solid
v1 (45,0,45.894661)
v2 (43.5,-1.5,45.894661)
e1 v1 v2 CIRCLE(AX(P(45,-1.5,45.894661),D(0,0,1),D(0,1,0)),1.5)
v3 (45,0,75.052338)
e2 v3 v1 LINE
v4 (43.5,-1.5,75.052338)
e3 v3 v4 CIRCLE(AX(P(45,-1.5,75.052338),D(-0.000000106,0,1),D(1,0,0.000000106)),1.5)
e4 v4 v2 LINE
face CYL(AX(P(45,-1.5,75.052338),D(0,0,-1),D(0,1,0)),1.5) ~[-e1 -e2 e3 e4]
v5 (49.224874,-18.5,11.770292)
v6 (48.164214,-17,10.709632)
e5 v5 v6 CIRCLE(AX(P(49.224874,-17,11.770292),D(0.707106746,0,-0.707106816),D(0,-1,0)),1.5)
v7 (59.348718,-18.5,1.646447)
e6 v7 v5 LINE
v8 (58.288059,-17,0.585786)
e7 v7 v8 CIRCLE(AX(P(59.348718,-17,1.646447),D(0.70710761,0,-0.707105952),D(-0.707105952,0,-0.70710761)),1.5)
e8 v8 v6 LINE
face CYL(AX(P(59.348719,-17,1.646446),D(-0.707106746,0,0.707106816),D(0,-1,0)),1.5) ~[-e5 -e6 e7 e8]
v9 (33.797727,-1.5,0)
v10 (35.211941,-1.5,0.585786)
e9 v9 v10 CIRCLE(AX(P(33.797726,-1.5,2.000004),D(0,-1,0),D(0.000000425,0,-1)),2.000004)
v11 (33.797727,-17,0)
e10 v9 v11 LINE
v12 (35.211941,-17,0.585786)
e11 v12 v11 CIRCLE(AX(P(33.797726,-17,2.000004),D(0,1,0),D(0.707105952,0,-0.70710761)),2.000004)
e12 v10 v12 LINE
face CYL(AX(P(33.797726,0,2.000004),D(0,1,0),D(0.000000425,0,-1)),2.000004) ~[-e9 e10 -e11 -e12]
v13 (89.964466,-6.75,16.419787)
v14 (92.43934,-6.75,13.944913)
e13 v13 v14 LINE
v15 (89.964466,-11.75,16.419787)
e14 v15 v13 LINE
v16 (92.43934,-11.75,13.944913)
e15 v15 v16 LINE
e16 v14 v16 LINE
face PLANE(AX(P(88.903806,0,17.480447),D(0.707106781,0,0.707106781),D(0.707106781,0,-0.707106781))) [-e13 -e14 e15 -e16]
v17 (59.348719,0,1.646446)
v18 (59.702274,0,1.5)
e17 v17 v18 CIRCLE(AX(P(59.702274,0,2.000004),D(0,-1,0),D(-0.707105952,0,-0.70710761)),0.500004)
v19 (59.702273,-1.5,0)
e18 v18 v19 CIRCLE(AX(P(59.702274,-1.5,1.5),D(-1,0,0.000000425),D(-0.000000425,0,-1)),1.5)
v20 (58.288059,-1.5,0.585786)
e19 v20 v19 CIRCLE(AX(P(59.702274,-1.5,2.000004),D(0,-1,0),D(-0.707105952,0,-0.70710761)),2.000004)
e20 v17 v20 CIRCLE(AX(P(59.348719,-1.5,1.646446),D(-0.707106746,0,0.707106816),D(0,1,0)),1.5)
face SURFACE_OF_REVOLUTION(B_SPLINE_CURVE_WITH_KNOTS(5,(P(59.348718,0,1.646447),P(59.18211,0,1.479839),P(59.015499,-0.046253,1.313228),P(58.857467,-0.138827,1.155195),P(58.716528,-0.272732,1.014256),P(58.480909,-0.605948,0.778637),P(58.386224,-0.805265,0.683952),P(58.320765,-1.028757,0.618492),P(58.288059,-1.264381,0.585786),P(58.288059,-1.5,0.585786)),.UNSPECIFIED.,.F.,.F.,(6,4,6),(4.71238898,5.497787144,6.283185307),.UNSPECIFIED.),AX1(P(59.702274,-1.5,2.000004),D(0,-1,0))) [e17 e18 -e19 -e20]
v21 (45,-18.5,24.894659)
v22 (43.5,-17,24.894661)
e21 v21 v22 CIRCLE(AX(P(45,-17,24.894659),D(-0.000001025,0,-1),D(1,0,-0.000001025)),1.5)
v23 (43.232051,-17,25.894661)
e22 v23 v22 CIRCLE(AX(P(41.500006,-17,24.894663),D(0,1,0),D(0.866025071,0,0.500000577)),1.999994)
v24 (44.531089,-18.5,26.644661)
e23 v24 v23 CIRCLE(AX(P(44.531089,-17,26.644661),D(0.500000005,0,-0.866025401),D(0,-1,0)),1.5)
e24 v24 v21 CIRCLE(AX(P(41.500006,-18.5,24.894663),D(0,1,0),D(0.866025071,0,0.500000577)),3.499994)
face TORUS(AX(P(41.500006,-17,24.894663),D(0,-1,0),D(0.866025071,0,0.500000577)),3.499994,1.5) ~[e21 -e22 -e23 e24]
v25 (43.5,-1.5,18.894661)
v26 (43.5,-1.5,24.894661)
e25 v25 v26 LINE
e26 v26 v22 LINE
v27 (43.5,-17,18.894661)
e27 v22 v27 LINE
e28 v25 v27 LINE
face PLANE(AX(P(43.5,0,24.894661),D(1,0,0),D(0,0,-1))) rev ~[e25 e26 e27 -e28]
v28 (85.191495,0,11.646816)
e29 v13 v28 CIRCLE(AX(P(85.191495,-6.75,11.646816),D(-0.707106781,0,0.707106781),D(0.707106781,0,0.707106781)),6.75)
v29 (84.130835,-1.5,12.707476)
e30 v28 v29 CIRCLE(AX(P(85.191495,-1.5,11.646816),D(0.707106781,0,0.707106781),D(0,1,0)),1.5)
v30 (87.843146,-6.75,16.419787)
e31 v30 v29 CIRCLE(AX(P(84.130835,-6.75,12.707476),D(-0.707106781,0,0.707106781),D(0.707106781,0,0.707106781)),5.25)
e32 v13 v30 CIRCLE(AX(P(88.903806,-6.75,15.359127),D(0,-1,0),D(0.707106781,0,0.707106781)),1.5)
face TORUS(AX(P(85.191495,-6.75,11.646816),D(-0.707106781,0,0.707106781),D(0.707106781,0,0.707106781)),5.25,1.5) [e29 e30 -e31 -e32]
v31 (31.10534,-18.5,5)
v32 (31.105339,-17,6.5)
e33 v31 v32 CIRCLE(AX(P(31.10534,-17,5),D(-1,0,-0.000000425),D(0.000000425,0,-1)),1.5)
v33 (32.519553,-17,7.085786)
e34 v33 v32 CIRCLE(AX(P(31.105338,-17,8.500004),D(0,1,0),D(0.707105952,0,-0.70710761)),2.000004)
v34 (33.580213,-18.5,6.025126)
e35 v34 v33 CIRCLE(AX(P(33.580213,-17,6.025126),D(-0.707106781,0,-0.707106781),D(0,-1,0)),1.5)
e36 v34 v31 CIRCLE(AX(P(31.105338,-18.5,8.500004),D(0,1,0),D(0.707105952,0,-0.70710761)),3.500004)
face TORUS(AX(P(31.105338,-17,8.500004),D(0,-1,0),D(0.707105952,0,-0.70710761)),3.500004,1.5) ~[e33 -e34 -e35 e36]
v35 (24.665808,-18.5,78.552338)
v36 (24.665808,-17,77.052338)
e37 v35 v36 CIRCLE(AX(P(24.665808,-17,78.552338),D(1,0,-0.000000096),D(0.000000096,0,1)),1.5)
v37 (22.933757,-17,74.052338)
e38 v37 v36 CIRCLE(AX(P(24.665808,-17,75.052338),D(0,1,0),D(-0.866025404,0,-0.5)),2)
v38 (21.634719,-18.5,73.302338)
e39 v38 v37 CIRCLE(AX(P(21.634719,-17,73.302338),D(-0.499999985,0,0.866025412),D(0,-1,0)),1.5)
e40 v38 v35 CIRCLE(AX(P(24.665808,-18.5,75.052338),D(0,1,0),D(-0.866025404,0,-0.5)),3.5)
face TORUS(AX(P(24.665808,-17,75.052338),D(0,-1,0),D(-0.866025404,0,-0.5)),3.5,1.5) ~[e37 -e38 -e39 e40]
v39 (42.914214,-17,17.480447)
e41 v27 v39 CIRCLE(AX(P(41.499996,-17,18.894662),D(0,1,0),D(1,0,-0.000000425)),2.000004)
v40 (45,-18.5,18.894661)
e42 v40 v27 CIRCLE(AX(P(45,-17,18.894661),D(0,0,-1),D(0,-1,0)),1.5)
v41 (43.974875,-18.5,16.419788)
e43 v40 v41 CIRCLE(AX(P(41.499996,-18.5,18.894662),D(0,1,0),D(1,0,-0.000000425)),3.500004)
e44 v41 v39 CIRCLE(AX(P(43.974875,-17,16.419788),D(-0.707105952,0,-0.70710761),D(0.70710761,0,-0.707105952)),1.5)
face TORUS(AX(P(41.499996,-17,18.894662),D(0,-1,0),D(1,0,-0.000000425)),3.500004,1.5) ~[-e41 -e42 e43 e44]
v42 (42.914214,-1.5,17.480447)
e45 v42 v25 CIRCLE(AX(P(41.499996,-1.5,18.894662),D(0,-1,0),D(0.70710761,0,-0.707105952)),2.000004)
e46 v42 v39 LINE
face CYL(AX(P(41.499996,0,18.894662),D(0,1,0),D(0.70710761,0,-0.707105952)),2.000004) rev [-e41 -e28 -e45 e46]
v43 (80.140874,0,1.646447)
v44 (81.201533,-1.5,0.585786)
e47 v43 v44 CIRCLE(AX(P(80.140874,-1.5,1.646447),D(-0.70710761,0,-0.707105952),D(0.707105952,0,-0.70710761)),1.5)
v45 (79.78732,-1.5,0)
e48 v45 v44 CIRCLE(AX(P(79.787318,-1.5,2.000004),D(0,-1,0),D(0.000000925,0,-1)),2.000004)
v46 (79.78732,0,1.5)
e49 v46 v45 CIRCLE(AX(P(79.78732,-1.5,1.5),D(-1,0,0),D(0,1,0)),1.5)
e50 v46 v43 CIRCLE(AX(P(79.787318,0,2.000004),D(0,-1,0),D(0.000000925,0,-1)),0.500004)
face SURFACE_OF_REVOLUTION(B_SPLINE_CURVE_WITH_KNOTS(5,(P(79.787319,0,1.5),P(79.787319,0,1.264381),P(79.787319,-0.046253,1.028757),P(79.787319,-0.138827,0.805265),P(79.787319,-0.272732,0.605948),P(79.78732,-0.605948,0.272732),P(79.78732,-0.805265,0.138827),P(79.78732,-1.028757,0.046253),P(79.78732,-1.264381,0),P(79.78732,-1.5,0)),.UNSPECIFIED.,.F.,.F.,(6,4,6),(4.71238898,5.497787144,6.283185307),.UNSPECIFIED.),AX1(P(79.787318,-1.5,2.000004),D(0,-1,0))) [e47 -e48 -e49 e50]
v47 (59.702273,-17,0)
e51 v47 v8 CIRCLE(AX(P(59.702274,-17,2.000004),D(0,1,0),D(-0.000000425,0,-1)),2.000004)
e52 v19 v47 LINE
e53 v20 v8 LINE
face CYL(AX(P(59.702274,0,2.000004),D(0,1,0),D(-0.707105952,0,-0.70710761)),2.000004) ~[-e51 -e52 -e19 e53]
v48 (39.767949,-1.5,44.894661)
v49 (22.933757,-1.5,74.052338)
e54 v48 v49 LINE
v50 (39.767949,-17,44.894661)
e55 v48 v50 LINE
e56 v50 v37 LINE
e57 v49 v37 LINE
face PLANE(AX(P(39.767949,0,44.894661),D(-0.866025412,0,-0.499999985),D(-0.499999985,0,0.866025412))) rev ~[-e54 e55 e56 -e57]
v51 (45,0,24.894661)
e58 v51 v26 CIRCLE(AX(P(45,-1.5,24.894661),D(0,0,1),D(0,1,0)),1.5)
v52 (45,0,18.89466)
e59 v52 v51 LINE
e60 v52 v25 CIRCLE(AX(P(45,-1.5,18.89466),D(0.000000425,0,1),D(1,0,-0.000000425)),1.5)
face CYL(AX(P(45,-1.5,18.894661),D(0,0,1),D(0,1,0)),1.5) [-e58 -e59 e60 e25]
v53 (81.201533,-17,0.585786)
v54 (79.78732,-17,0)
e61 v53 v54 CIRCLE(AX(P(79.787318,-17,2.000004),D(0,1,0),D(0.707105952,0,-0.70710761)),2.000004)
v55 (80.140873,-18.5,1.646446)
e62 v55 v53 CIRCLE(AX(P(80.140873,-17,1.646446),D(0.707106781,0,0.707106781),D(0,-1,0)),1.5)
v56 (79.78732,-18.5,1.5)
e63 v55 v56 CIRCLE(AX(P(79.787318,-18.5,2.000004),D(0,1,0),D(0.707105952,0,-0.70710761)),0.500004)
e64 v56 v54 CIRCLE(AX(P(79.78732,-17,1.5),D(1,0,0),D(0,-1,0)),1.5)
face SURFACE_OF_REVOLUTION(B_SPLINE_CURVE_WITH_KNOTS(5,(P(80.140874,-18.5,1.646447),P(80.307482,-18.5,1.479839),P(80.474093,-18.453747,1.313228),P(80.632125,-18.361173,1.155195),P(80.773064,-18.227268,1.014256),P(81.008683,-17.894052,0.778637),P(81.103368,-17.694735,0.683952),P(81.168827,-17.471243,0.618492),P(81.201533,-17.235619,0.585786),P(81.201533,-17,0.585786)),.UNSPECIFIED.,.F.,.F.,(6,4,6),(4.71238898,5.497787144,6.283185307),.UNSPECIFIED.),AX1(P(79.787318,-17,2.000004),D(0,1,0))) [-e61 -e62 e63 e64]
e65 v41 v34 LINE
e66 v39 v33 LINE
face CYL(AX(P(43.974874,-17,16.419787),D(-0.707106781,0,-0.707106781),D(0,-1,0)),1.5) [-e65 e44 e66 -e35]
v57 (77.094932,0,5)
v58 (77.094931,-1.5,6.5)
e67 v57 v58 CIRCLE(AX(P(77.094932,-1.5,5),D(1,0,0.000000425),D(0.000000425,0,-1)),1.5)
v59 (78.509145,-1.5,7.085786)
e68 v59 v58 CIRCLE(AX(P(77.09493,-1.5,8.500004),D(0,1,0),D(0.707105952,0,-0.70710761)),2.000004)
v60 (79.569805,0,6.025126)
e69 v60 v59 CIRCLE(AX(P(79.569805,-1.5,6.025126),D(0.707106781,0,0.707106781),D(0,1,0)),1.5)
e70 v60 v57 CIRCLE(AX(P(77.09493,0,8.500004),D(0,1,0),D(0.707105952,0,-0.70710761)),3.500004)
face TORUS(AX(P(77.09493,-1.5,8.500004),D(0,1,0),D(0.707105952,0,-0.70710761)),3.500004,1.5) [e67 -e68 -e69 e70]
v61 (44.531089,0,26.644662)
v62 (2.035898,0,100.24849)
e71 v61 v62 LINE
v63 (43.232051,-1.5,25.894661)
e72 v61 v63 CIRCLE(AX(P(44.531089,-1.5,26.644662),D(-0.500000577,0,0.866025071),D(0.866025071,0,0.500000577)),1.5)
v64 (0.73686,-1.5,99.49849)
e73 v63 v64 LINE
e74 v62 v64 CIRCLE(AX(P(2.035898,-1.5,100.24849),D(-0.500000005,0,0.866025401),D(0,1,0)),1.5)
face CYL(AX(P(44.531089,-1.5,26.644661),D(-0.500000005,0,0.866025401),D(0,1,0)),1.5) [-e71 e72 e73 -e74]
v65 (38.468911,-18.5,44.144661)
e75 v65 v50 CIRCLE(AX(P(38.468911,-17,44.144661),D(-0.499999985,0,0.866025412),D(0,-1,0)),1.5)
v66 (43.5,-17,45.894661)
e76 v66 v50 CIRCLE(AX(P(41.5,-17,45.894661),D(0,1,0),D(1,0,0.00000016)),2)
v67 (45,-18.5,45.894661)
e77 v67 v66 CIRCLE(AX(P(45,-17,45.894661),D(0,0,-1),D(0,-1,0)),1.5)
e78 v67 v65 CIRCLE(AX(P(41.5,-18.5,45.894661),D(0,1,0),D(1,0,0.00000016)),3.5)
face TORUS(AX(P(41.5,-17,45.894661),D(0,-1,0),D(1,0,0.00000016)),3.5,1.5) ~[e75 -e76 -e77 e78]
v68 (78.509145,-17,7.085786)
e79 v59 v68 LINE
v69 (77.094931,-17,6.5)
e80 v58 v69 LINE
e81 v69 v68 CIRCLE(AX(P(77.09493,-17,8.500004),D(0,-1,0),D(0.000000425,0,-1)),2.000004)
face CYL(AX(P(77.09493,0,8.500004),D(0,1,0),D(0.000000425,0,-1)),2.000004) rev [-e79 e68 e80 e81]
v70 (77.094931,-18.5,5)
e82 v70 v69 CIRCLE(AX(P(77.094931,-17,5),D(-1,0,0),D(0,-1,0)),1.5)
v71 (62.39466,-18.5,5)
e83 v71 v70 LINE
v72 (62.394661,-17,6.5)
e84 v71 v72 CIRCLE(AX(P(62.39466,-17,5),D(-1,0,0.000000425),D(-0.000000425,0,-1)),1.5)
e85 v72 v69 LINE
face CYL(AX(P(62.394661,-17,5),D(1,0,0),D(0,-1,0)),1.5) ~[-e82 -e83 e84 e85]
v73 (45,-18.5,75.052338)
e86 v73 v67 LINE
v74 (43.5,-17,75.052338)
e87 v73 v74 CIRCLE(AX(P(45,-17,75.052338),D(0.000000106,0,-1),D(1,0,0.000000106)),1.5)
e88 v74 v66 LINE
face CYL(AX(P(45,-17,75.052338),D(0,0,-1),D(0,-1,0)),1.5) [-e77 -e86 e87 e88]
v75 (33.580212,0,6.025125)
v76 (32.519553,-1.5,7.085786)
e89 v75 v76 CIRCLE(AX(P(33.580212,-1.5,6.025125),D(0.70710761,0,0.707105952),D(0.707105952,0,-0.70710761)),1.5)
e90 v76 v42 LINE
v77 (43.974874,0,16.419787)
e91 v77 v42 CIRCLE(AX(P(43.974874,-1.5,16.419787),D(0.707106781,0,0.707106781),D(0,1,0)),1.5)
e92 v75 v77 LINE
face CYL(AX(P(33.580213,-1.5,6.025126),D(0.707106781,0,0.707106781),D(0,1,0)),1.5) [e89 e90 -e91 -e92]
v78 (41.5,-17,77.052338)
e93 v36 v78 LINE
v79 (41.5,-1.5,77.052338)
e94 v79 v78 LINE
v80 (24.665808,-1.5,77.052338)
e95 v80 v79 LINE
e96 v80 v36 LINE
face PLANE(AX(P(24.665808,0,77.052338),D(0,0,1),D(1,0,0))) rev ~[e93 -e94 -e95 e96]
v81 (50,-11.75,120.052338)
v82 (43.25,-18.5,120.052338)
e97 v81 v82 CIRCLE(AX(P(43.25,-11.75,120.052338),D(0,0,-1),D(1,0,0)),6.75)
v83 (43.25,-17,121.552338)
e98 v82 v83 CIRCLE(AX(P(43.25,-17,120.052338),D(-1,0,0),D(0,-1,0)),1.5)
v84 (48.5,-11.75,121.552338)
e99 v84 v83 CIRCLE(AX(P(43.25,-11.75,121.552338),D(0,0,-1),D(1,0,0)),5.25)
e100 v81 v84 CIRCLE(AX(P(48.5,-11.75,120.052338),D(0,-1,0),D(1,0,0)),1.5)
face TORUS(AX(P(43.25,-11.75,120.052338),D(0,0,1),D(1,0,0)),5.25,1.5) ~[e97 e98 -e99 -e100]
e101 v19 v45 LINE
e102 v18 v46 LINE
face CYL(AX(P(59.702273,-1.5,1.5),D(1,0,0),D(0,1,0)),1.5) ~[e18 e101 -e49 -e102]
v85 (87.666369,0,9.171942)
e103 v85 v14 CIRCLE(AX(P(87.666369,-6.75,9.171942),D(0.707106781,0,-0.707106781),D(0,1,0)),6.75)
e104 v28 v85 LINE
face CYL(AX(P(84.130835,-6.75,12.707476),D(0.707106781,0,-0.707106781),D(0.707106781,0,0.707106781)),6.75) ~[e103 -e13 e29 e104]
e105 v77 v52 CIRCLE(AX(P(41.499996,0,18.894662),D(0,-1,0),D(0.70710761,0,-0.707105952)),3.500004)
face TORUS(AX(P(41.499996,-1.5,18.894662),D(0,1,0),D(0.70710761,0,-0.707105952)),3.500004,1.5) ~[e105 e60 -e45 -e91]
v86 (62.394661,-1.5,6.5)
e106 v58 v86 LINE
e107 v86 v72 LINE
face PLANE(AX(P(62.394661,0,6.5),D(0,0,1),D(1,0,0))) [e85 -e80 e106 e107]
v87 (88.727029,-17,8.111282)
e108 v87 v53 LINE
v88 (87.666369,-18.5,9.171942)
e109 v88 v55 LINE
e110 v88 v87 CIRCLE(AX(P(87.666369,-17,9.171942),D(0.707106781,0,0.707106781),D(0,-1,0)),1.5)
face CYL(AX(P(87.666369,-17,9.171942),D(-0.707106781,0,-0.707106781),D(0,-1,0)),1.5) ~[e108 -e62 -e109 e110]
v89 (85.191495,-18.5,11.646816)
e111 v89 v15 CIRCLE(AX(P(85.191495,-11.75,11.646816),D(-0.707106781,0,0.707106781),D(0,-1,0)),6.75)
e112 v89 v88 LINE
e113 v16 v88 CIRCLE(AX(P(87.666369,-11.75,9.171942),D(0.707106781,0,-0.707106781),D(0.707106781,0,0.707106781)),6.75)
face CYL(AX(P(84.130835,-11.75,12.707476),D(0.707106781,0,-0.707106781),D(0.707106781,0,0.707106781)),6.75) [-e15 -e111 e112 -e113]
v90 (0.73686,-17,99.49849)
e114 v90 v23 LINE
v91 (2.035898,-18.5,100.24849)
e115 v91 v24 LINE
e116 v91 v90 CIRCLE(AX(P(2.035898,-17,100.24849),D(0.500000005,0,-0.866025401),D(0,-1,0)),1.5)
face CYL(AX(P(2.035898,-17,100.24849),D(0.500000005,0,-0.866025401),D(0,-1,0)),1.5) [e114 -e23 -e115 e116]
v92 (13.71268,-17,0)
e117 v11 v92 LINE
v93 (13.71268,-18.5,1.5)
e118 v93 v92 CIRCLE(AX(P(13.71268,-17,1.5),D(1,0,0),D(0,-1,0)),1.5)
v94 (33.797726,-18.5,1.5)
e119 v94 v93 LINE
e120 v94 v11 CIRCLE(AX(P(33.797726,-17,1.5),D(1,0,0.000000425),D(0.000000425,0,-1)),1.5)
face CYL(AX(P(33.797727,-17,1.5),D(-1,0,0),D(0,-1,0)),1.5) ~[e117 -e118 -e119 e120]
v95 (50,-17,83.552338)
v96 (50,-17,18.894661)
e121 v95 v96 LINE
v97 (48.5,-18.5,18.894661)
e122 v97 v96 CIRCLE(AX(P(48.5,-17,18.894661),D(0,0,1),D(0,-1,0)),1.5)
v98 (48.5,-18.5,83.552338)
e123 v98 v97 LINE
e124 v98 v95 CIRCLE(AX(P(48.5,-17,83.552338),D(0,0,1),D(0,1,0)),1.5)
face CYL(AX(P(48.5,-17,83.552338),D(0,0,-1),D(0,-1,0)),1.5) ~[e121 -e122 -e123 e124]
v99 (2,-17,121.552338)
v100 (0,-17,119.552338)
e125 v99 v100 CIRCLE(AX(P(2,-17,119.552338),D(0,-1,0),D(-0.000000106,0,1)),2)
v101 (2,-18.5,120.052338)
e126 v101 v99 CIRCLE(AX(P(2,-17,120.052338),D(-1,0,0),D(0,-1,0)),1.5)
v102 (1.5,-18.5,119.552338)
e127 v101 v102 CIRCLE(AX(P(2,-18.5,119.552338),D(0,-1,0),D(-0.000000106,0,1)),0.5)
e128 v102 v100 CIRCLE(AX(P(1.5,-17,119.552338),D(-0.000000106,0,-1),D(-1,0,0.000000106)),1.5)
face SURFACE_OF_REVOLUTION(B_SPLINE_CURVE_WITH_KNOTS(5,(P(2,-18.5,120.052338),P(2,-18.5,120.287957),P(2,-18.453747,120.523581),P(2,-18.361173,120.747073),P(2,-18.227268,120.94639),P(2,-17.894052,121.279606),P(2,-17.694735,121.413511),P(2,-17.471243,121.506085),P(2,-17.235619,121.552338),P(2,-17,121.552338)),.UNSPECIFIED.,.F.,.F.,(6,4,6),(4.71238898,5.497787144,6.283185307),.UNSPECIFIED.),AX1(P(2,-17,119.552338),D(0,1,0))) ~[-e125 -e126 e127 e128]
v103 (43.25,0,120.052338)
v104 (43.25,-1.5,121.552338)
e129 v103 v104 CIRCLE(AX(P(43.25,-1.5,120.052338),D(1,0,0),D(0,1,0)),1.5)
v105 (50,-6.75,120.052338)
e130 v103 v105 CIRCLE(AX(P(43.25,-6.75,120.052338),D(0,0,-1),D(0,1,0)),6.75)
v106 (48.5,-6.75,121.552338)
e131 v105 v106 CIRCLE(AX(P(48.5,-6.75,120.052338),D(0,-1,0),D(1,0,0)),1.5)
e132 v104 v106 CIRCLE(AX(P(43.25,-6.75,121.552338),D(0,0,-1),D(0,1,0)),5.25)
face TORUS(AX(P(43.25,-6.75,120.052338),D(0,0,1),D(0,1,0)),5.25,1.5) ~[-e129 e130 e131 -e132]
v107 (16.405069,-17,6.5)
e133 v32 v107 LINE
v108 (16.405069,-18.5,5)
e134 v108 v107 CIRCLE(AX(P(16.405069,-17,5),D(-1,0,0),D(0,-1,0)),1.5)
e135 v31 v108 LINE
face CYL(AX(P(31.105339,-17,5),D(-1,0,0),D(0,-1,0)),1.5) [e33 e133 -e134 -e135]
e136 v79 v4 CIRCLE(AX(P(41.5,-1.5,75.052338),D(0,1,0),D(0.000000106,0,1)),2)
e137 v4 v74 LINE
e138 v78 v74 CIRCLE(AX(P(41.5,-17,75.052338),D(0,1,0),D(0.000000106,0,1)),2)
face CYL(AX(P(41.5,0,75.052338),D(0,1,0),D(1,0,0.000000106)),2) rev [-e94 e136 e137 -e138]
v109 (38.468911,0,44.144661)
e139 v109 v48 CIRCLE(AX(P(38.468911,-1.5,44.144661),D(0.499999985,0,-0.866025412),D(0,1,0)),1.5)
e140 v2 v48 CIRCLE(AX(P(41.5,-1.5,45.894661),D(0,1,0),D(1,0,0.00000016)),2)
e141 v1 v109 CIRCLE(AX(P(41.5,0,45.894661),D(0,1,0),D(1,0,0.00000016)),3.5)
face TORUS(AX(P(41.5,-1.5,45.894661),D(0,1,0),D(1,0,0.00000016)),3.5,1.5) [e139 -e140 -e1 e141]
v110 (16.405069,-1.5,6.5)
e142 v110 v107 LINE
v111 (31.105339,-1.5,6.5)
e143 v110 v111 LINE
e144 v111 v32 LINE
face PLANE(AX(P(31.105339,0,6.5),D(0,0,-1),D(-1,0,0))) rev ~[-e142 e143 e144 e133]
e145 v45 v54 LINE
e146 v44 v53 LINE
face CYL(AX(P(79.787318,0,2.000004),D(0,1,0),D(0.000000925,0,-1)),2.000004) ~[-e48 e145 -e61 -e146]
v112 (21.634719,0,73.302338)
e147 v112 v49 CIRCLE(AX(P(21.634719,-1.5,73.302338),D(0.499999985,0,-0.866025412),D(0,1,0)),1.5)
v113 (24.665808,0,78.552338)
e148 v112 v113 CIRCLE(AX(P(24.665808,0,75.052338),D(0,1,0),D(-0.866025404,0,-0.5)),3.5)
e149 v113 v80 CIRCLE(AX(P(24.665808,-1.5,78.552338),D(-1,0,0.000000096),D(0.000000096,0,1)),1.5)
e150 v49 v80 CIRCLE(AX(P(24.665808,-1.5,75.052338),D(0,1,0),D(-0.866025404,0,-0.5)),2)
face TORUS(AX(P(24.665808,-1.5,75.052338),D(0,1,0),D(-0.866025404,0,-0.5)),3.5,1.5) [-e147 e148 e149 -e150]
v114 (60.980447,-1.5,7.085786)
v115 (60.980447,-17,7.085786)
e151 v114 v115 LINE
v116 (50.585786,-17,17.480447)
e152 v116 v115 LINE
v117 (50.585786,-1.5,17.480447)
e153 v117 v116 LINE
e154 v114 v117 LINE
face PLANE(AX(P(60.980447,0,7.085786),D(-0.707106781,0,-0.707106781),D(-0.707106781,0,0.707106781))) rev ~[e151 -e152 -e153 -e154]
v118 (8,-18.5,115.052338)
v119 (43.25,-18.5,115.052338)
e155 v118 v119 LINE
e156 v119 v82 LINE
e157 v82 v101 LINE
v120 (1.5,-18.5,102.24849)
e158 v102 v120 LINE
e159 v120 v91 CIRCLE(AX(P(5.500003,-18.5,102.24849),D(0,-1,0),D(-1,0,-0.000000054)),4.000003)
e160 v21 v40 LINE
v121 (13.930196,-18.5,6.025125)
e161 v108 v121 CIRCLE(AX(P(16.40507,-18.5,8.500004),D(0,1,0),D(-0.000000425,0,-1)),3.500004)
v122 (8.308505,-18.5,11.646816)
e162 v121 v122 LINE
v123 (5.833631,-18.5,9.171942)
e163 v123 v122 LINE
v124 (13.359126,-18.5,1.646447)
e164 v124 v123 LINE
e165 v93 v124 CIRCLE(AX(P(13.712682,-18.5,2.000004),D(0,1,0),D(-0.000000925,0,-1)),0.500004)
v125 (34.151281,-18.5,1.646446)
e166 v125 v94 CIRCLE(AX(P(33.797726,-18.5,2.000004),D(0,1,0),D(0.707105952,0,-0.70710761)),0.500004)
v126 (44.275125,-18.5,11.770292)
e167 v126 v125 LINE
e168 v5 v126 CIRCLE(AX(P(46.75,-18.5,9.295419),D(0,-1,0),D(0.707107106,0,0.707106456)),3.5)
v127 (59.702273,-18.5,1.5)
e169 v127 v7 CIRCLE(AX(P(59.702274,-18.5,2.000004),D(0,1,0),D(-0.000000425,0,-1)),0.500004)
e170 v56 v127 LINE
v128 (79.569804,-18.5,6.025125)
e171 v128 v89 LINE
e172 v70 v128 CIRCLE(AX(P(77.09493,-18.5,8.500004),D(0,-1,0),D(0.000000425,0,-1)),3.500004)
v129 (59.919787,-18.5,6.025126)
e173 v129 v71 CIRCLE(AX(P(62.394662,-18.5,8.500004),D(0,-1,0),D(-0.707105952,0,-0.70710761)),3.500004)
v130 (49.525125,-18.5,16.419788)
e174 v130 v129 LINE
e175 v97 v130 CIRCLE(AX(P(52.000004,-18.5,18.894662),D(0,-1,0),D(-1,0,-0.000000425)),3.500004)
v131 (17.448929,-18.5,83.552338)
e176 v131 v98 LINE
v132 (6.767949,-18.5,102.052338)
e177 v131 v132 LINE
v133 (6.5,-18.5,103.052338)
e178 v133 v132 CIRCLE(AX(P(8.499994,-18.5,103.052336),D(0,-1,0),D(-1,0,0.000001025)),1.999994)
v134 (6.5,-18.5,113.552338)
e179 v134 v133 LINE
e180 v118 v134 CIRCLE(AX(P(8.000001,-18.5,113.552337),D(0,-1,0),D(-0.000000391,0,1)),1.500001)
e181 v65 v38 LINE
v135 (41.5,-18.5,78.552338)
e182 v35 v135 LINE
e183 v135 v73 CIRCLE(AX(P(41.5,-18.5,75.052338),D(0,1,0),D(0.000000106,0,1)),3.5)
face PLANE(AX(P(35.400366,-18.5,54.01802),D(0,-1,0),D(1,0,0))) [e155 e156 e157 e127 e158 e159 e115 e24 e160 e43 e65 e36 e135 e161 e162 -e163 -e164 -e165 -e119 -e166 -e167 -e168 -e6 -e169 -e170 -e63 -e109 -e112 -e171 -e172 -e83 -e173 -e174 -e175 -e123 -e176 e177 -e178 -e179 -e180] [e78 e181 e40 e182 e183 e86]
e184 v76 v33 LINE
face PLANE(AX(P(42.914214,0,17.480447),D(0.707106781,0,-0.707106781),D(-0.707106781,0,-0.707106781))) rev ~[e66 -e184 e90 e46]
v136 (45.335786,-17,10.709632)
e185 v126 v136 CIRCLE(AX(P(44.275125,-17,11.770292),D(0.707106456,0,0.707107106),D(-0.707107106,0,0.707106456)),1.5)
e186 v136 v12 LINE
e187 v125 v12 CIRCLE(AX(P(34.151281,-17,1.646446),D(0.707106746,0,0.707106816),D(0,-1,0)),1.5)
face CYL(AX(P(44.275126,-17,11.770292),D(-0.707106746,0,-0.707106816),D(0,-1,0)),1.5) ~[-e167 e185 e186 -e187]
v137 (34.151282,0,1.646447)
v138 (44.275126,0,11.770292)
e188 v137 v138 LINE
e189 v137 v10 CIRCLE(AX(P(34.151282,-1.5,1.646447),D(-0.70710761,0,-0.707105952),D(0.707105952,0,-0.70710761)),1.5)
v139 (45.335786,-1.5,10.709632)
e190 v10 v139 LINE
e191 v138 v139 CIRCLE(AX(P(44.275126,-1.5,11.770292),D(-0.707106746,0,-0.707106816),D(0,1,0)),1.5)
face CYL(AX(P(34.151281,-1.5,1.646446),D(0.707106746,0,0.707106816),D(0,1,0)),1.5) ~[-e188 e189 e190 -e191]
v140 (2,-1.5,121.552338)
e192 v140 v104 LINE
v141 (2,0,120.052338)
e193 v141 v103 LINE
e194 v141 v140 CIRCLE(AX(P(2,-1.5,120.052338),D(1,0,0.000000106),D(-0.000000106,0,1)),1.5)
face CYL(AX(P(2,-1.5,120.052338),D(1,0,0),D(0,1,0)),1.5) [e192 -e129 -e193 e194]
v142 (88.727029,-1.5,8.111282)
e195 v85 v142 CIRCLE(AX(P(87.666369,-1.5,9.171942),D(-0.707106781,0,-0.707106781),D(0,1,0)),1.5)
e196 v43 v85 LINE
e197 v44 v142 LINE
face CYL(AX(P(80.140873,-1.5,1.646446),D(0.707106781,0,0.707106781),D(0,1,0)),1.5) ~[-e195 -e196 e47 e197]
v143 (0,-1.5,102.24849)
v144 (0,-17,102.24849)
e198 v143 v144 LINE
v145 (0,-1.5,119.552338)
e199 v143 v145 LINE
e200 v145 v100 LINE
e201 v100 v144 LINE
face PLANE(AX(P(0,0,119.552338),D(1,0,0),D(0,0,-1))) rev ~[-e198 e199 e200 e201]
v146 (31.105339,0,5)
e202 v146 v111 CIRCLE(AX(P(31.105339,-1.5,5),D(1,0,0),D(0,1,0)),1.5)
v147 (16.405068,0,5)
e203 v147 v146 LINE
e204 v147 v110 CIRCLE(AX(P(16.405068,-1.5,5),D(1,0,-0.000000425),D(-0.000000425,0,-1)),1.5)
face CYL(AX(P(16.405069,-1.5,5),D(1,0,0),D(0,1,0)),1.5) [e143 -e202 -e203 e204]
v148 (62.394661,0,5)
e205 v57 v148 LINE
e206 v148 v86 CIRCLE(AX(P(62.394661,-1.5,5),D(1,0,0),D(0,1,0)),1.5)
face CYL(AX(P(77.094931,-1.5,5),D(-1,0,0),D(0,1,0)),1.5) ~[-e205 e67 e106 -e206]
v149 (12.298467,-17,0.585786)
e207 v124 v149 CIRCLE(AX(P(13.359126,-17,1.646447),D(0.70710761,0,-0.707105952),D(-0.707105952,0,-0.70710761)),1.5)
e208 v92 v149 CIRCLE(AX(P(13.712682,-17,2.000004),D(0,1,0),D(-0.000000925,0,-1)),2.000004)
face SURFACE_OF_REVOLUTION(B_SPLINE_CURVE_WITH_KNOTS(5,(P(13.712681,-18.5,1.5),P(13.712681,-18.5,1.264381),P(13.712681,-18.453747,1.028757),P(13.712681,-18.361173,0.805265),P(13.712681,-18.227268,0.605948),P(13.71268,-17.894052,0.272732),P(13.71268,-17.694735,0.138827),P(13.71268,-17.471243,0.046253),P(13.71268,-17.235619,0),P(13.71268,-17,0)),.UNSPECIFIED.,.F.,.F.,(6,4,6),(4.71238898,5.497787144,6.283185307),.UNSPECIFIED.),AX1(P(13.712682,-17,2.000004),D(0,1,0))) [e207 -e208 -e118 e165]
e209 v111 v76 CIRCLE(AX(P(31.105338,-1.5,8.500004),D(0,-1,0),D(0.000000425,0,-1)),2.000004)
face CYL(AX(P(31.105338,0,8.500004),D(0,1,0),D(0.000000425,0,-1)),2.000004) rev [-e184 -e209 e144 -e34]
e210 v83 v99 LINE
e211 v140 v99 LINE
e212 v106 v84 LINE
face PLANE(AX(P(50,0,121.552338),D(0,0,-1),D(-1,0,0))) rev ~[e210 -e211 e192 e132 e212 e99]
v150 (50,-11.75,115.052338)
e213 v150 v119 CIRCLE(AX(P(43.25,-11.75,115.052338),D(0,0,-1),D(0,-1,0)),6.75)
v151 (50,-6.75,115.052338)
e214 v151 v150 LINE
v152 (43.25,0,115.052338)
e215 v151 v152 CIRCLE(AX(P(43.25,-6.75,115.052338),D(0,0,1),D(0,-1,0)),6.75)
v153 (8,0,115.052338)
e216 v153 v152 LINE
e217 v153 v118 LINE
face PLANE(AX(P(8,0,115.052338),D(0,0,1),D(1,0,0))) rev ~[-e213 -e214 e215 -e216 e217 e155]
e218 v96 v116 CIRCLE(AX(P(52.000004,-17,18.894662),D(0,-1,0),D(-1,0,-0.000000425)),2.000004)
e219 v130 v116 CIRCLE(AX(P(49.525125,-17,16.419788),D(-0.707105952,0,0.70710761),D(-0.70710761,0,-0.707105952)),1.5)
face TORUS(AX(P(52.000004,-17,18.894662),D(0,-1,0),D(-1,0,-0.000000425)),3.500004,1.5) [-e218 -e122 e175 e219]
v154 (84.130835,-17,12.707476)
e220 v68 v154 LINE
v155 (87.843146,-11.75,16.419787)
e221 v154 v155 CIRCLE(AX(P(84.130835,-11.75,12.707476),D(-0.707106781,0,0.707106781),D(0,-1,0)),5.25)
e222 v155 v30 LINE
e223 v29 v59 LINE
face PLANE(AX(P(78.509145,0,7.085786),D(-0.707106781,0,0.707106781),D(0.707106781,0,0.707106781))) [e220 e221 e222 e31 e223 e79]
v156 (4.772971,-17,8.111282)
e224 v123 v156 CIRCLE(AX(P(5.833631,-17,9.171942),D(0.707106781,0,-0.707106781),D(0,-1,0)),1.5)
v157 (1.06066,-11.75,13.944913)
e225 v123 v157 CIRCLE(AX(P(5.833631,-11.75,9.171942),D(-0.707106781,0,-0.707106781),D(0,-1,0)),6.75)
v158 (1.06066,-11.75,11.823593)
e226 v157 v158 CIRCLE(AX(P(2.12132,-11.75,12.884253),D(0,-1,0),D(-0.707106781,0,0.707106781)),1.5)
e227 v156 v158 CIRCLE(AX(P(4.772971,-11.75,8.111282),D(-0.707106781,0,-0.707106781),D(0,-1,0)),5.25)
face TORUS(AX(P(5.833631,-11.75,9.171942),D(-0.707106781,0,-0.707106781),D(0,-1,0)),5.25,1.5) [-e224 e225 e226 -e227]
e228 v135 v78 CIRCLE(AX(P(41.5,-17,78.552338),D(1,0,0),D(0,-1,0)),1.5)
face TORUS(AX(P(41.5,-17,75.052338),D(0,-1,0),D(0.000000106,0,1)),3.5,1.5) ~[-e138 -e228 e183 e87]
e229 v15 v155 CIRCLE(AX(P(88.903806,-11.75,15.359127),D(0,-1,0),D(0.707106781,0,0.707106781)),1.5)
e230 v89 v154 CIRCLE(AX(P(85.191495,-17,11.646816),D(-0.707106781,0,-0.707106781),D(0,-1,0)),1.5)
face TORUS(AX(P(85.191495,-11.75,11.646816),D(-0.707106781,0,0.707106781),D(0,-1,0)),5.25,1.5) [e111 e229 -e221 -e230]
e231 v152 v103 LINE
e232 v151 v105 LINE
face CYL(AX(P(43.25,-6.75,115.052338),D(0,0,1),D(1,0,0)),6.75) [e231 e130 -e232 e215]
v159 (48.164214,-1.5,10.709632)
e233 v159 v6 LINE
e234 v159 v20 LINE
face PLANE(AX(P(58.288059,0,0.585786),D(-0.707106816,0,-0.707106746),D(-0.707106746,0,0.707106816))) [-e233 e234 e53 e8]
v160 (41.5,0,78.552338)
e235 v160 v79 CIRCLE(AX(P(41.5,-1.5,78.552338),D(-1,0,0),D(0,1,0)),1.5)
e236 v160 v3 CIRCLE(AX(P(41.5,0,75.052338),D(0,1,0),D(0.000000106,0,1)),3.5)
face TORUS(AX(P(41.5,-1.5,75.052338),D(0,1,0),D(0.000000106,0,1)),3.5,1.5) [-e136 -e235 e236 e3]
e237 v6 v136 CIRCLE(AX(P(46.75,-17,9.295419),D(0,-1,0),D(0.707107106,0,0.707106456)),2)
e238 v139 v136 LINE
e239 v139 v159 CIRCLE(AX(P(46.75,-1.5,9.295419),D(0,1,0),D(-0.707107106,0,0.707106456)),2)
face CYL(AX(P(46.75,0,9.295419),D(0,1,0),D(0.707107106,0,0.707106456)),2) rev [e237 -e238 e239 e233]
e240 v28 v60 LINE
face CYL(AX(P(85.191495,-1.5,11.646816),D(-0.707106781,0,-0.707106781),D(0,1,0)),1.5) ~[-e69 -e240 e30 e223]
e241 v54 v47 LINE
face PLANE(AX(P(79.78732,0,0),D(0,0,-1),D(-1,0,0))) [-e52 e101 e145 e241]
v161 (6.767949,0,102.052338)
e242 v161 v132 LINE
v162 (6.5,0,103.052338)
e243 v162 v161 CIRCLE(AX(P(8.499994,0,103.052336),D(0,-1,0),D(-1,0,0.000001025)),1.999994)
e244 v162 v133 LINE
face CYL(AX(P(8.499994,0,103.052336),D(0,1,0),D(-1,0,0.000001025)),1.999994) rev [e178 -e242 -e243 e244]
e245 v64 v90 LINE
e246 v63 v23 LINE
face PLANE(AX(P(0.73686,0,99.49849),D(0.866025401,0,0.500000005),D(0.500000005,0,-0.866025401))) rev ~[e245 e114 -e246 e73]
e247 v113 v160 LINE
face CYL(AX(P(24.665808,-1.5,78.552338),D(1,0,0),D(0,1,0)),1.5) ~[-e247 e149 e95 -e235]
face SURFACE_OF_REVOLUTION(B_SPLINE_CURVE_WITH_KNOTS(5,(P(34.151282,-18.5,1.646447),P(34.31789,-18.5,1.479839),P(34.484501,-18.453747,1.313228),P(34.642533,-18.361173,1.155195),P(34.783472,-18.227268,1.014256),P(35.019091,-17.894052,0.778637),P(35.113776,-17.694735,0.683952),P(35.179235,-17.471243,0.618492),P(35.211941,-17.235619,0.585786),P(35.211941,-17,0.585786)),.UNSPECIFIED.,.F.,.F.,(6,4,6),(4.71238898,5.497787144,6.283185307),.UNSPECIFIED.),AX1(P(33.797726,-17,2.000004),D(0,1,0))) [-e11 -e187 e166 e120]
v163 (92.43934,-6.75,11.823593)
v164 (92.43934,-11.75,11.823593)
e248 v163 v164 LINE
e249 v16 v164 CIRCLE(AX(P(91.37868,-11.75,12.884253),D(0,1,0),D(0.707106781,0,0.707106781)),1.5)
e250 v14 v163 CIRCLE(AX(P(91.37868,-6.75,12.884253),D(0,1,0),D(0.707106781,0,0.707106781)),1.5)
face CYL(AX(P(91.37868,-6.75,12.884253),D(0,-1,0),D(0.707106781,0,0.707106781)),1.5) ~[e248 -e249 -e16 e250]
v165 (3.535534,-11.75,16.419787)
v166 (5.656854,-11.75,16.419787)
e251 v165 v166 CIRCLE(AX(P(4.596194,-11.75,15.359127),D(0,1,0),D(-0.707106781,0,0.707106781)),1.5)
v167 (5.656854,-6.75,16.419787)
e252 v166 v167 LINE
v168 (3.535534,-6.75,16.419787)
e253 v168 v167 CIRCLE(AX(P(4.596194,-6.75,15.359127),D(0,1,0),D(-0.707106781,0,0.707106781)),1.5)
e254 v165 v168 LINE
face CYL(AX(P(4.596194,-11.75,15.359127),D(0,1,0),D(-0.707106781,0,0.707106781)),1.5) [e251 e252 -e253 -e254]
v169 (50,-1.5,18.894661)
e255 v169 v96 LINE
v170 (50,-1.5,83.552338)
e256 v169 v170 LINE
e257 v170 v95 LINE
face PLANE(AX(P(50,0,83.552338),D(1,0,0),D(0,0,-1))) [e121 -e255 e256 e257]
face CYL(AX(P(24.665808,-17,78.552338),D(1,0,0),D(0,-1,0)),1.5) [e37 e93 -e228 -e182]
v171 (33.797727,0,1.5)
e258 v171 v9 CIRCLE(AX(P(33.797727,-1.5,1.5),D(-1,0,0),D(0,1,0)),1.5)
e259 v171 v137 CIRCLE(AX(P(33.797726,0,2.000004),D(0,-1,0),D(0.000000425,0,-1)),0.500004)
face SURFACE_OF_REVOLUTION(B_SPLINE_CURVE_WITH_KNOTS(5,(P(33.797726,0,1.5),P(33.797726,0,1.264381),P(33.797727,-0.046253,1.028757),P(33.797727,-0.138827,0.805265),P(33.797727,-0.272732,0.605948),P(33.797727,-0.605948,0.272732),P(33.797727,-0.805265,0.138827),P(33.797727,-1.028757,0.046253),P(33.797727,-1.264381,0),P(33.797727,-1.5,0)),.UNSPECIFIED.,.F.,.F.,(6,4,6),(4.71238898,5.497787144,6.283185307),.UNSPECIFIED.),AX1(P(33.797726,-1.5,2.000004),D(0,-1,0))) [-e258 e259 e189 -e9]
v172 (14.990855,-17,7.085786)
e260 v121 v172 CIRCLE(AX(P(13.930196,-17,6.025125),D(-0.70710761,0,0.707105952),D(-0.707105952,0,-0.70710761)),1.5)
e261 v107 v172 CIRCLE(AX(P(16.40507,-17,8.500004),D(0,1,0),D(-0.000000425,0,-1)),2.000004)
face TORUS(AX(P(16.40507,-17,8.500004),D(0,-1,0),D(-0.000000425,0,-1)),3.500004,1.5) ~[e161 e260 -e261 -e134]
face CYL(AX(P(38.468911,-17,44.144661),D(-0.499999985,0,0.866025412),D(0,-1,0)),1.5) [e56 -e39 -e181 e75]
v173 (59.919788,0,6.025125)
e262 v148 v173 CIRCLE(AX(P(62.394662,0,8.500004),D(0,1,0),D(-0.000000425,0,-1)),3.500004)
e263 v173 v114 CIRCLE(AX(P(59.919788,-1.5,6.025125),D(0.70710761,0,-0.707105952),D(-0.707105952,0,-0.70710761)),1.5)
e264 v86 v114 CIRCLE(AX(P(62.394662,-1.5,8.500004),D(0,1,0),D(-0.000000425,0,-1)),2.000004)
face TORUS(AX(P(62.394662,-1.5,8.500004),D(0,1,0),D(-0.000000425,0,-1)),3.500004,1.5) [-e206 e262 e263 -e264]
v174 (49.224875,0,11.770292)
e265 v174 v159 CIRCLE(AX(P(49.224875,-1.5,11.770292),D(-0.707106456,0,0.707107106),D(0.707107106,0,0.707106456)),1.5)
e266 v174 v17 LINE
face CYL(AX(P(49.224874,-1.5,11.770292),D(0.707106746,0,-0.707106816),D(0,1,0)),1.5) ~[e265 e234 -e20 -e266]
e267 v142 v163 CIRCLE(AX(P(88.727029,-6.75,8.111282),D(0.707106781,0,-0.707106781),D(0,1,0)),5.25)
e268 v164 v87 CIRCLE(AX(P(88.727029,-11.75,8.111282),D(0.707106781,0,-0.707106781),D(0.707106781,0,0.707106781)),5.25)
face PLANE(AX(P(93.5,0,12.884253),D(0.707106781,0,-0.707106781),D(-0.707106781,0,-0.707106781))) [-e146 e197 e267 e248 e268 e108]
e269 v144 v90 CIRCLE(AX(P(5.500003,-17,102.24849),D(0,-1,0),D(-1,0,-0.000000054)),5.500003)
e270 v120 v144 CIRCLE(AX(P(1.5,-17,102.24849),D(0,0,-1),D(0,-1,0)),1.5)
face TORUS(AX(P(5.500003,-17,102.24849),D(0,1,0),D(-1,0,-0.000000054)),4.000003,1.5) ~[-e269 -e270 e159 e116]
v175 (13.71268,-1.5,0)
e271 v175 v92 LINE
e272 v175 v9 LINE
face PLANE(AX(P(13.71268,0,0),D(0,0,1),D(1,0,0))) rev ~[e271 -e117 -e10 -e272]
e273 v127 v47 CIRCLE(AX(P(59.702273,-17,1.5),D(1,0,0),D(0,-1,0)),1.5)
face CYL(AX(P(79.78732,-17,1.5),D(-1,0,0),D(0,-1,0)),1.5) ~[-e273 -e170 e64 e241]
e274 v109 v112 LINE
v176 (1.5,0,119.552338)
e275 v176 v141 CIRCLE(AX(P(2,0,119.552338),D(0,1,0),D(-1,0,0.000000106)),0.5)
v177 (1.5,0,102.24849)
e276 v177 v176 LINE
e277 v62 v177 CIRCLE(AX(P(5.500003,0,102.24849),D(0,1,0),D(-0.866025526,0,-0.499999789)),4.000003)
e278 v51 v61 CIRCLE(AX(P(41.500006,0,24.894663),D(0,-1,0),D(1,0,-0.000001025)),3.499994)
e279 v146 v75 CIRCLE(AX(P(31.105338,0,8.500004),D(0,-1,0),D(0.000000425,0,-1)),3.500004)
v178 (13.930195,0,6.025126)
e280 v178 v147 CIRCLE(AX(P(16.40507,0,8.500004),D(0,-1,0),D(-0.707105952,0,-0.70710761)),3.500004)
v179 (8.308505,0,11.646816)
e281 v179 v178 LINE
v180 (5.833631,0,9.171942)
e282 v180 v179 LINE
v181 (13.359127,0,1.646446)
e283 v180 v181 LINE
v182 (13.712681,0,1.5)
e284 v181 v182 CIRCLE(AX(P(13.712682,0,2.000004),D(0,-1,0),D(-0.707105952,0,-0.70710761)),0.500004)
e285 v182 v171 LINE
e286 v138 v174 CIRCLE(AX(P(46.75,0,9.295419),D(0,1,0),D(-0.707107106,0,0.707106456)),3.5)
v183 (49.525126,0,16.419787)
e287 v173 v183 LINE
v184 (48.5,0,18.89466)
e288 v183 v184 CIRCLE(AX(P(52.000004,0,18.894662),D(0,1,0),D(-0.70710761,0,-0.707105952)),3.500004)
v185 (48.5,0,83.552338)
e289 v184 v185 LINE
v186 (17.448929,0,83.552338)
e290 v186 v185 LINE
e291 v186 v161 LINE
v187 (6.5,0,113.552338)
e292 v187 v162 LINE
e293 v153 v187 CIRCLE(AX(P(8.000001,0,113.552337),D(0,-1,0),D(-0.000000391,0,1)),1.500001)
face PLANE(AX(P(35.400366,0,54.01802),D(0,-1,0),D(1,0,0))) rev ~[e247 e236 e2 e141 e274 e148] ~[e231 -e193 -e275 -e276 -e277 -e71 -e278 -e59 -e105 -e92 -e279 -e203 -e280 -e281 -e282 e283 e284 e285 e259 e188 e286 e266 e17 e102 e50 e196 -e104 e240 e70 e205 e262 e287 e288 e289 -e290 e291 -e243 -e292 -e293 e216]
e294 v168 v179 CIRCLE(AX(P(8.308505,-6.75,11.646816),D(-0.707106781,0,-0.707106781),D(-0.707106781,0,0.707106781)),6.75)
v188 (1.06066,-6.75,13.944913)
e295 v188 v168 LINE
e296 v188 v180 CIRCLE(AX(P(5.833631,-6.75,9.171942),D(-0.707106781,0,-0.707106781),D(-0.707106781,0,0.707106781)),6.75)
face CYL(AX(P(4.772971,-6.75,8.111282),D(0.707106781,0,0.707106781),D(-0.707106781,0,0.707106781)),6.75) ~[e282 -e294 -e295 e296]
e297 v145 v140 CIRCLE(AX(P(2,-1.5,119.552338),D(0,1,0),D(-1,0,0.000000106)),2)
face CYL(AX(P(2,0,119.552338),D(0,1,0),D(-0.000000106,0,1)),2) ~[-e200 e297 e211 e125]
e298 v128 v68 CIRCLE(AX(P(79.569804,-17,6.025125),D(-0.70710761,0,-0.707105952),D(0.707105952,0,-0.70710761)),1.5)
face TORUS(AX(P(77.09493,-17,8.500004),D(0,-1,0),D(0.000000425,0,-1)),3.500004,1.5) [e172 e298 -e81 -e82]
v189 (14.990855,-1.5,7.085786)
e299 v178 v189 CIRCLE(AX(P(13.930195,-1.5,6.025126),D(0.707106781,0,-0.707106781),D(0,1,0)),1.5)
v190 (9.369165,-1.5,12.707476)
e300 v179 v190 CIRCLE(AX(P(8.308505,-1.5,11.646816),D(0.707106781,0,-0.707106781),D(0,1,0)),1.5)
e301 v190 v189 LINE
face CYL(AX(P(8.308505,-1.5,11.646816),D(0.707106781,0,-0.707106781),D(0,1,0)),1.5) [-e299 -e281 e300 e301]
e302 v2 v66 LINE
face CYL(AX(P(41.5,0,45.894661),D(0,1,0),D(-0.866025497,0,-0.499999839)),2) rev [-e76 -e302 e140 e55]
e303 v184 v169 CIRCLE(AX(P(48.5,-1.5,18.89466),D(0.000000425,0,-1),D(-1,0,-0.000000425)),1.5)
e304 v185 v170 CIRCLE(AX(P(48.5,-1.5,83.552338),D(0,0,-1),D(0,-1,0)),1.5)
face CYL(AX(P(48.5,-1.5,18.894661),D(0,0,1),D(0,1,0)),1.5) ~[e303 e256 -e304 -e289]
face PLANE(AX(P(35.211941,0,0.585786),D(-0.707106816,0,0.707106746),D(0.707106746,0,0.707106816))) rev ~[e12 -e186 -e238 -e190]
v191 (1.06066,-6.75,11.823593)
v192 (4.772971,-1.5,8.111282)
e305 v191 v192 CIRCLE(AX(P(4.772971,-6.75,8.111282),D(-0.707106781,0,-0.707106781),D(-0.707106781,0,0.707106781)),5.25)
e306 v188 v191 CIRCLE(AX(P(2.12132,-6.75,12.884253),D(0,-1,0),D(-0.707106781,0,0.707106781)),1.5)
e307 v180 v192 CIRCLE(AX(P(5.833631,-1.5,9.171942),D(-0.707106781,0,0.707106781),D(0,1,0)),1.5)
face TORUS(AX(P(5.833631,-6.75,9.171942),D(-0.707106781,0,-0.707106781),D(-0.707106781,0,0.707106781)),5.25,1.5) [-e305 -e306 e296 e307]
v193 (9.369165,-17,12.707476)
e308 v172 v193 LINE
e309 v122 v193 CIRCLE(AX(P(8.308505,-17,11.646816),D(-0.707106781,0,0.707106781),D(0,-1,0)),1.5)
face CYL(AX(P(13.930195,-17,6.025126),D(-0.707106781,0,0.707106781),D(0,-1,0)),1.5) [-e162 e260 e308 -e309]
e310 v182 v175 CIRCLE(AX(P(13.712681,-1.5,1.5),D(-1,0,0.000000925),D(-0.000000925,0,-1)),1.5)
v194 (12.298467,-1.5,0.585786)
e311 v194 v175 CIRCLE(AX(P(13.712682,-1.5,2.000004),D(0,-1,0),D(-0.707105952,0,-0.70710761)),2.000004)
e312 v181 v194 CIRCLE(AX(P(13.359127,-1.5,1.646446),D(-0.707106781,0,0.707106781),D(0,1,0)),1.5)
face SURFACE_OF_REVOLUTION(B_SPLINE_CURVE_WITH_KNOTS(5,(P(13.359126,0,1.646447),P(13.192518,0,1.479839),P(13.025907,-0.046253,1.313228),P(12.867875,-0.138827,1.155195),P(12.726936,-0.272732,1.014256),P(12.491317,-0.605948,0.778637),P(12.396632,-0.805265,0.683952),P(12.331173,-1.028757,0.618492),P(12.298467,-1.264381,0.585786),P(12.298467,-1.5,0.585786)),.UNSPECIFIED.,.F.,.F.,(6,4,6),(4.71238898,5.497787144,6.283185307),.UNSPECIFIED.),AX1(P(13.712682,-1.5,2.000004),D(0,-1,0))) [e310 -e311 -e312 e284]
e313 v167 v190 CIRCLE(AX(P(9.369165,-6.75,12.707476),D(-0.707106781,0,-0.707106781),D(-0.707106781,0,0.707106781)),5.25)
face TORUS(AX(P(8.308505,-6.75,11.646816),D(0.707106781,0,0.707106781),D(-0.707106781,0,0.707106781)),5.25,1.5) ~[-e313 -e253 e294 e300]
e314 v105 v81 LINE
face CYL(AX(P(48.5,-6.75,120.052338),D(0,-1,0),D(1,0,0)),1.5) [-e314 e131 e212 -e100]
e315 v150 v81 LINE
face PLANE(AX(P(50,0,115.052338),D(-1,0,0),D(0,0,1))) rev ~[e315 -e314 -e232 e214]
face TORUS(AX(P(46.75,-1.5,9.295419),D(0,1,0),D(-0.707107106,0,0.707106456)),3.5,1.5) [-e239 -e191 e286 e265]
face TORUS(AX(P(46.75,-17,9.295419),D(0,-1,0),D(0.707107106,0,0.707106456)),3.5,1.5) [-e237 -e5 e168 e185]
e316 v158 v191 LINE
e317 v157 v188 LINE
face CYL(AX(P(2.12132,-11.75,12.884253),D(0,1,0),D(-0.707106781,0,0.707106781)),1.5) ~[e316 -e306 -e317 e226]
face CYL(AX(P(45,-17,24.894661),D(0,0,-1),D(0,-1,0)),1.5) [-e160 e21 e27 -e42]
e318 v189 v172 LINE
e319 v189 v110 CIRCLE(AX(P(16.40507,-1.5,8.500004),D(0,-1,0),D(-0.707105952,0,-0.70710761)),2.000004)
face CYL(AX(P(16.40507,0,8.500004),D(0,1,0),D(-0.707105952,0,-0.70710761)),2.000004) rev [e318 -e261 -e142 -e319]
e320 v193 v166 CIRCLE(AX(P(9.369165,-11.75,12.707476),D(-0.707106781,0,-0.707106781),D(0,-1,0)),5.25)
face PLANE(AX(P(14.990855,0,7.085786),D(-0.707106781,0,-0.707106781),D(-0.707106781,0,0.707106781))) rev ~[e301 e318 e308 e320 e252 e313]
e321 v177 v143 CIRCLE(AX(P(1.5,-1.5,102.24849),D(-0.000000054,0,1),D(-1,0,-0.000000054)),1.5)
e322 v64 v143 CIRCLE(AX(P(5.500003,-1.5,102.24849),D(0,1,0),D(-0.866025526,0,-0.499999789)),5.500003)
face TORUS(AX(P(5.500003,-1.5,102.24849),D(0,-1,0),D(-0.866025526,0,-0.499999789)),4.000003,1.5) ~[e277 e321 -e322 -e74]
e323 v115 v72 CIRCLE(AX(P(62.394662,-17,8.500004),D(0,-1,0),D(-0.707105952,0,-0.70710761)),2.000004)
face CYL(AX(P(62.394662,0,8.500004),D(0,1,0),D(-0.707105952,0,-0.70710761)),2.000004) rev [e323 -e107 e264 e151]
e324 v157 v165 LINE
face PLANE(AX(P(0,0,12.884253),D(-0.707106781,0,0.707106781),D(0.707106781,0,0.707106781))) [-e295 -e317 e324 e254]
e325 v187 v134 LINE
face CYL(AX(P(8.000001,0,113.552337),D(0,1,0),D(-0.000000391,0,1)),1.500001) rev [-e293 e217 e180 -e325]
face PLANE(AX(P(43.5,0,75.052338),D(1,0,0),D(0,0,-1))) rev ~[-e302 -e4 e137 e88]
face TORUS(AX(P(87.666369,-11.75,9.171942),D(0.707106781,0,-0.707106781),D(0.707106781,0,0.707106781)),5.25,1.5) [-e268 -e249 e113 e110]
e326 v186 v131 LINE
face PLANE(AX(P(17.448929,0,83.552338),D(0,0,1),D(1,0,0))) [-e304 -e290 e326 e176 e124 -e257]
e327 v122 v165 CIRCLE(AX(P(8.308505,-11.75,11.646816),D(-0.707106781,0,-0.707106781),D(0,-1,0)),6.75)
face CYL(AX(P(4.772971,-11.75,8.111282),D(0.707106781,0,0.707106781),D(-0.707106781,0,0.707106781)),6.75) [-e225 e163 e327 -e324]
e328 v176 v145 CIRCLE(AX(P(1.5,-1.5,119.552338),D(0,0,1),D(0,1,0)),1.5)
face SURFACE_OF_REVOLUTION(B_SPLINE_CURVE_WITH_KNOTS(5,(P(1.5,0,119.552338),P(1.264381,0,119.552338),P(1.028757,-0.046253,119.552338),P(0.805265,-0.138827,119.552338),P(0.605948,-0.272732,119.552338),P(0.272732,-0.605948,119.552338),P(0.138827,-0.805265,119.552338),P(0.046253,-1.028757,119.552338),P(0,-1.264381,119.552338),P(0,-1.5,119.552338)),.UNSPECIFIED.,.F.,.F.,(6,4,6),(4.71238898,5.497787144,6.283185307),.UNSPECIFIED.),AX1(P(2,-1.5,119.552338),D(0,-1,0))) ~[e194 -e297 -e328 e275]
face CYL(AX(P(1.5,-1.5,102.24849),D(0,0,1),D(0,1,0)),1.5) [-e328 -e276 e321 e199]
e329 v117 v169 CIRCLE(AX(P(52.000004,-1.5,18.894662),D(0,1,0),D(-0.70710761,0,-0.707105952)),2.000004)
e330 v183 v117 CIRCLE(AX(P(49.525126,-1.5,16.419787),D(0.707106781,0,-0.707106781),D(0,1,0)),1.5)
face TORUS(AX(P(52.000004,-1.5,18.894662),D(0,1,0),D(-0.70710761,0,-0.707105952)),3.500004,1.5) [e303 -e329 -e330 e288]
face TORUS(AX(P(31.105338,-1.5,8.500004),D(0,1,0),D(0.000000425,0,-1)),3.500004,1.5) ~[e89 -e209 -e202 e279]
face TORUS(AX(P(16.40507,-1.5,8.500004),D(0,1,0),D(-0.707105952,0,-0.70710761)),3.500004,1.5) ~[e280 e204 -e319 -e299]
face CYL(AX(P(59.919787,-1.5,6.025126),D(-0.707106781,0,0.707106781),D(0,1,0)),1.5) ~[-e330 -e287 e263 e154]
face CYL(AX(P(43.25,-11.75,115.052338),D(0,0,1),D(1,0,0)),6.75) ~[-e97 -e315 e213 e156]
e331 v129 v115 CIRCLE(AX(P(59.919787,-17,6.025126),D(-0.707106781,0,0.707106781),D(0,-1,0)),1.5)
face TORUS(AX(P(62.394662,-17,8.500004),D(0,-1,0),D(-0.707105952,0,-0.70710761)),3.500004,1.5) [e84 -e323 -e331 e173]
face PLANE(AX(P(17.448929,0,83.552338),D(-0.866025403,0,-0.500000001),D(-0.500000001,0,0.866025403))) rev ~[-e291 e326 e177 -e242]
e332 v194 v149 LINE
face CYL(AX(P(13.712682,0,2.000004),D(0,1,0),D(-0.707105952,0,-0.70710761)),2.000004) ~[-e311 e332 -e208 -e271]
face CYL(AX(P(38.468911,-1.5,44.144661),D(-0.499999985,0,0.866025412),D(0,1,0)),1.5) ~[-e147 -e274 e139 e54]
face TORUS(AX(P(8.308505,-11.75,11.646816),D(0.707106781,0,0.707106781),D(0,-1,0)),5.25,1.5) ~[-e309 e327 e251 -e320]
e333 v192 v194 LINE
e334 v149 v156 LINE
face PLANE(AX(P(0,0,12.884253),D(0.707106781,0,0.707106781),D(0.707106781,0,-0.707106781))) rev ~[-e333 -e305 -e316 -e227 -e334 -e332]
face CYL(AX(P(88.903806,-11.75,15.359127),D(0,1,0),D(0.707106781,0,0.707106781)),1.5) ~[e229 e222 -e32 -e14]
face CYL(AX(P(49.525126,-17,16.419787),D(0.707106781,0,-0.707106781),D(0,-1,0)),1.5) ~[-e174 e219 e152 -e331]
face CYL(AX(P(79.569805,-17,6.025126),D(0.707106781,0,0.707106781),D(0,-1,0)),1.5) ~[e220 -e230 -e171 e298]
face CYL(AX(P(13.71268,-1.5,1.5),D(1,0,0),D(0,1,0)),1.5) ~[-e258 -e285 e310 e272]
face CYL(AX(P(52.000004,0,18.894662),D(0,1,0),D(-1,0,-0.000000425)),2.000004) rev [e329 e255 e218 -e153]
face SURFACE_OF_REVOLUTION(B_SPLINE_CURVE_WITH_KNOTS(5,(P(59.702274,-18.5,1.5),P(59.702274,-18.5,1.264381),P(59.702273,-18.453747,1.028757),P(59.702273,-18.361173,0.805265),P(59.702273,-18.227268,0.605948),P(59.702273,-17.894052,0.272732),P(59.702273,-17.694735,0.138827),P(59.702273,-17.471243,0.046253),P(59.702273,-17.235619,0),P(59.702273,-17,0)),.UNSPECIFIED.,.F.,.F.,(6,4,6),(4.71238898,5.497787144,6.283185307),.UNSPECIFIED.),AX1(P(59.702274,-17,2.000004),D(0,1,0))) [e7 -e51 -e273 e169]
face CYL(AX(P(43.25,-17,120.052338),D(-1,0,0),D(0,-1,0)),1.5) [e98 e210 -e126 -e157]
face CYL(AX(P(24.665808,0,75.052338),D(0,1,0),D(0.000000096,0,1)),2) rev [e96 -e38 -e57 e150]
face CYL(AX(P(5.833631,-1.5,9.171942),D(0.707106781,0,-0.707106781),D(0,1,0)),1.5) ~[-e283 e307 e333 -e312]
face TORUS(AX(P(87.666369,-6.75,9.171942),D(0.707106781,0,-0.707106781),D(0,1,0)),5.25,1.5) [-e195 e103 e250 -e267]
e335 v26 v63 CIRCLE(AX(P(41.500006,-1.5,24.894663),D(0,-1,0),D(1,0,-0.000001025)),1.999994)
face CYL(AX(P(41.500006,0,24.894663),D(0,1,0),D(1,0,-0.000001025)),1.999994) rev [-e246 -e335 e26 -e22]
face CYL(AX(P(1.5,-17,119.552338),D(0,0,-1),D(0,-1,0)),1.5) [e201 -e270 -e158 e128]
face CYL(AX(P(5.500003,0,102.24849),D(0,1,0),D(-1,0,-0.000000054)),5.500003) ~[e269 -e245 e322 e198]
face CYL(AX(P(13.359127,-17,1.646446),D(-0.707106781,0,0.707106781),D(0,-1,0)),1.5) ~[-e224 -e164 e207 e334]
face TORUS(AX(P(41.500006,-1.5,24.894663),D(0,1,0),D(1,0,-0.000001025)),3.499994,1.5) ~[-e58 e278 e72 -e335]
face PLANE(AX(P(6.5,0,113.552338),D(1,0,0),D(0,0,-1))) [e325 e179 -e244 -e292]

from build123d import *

# Parameters (mm, degrees)
PAD_DEPTH   = 18.5
FILLET_R    = 6.75
FILLET001_R = 1.5


with BuildPart() as part:
    # Sketch → Pad (new body)
    with BuildSketch(Plane.XZ):
        with BuildLine():
            Line((50, 121.552338), (2, 121.552338))
            ThreePointArc((2, 121.552338), (0.585786, 120.966551), (0, 119.552338))
            Line((0, 119.552338), (0, 102.24849))
            ThreePointArc((0, 102.24849), (0.187408, 100.824985), (0.73686, 99.49849))
            Line((0.73686, 99.49849), (43.232051, 25.894661))
            ThreePointArc((43.5, 24.894661), (43.431852, 25.412299), (43.232051, 25.894661))
            Line((43.5, 24.894661), (43.5, 18.894661))
            ThreePointArc((42.914214, 17.480447), (43.347759, 18.129294), (43.5, 18.894661))
            Line((42.914214, 17.480447), (32.519553, 7.085786))
            ThreePointArc((31.105339, 6.5), (31.870706, 6.652241), (32.519553, 7.085786))
            Line((31.105339, 6.5), (16.405069, 6.5))
            ThreePointArc((14.990855, 7.085786), (15.639702, 6.652241), (16.405069, 6.5))
            Line((14.990855, 7.085786), (4.596194, 17.480447))
            Line((0, 12.884253), (4.596194, 17.480447))
            Line((0, 12.884253), (12.298467, 0.585786))
            ThreePointArc((12.298467, 0.585786), (12.947314, 0.152241), (13.71268, 0))
            Line((13.71268, 0), (33.797727, 0))
            ThreePointArc((33.797727, 0), (34.563094, 0.152241), (35.211941, 0.585786))
            Line((35.211941, 0.585786), (45.335786, 10.709632))
            ThreePointArc((48.164214, 10.709632), (46.75, 11.295419), (45.335786, 10.709632))
            Line((58.288059, 0.585786), (48.164214, 10.709632))
            ThreePointArc((58.288059, 0.585786), (58.936906, 0.152241), (59.702273, 0))
            Line((79.78732, 0), (59.702273, 0))
            ThreePointArc((79.78732, 0), (80.552686, 0.152241), (81.201533, 0.585786))
            Line((93.5, 12.884253), (81.201533, 0.585786))
            Line((88.903806, 17.480447), (93.5, 12.884253))
            Line((78.509145, 7.085786), (88.903806, 17.480447))
            ThreePointArc((77.094931, 6.5), (77.860298, 6.652241), (78.509145, 7.085786))
            Line((62.394661, 6.5), (77.094931, 6.5))
            ThreePointArc((60.980447, 7.085786), (61.629294, 6.652241), (62.394661, 6.5))
            Line((60.980447, 7.085786), (50.585786, 17.480447))
            ThreePointArc((50, 18.894661), (50.152241, 18.129294), (50.585786, 17.480447))
            Line((50, 83.552338), (50, 18.894661))
            Line((17.448929, 83.552338), (50, 83.552338))
            Line((17.448929, 83.552338), (6.767949, 102.052338))
            ThreePointArc((6.5, 103.052338), (6.568148, 102.5347), (6.767949, 102.052338))
            Line((6.5, 113.552338), (6.5, 103.052338))
            ThreePointArc((8, 115.052338), (6.93934, 114.612998), (6.5, 113.552338))
            Line((8, 115.052338), (50, 115.052338))
            Line((50, 115.052338), (50, 121.552338))
        make_face()
        with BuildLine():
            Line((43.5, 75.052338), (43.5, 45.894661))
            ThreePointArc((39.767949, 44.894661), (42.017638, 43.962809), (43.5, 45.894661))
            Line((39.767949, 44.894661), (22.933757, 74.052338))
            ThreePointArc((24.665808, 77.052338), (22.933757, 76.052338), (22.933757, 74.052338))
            Line((24.665808, 77.052338), (41.5, 77.052338))
            ThreePointArc((43.5, 75.052338), (42.914214, 76.466551), (41.5, 77.052338))
        make_face(mode=Mode.SUBTRACT)
    extrude(amount=PAD_DEPTH)

    # Fillet
    fillet_edges = [part.edges().sort_by_distance(p)[0] for p in [
        (50, 0, 118.302338),
        (50, -18.5, 118.302338),
        (91.201903, -18.5, 15.18235),
        (91.201903, 0, 15.18235),
        (2.298097, 0, 15.18235),
        (2.298097, -18.5, 15.18235),
    ]]
    fillet(fillet_edges, radius=FILLET_R)

    # Fillet001
    fillet001_edges = [part.edges().sort_by_distance(p)[0] for p in [
        (31.350853, -18.5, 59.473499),
        (21.984456, -18.5, 62.696575),
        (50, -18.5, 51.223499),
        (50, 0, 51.223499),
        (23.755204, -18.5, 6.5),
        (69.744796, -18.5, 6.5),
        (69.744796, 0, 6.5),
        (23.755204, 0, 6.5),
        (31.350853, 0, 59.473499),
        (21.984456, 0, 62.696575),
        (22.625, 0, 121.552338),
        (22.625, -18.5, 121.552338),
        (69.744796, -18.5, 0),
    ]]
    fillet(fillet001_edges, radius=FILLET001_R)


solid = part.part
